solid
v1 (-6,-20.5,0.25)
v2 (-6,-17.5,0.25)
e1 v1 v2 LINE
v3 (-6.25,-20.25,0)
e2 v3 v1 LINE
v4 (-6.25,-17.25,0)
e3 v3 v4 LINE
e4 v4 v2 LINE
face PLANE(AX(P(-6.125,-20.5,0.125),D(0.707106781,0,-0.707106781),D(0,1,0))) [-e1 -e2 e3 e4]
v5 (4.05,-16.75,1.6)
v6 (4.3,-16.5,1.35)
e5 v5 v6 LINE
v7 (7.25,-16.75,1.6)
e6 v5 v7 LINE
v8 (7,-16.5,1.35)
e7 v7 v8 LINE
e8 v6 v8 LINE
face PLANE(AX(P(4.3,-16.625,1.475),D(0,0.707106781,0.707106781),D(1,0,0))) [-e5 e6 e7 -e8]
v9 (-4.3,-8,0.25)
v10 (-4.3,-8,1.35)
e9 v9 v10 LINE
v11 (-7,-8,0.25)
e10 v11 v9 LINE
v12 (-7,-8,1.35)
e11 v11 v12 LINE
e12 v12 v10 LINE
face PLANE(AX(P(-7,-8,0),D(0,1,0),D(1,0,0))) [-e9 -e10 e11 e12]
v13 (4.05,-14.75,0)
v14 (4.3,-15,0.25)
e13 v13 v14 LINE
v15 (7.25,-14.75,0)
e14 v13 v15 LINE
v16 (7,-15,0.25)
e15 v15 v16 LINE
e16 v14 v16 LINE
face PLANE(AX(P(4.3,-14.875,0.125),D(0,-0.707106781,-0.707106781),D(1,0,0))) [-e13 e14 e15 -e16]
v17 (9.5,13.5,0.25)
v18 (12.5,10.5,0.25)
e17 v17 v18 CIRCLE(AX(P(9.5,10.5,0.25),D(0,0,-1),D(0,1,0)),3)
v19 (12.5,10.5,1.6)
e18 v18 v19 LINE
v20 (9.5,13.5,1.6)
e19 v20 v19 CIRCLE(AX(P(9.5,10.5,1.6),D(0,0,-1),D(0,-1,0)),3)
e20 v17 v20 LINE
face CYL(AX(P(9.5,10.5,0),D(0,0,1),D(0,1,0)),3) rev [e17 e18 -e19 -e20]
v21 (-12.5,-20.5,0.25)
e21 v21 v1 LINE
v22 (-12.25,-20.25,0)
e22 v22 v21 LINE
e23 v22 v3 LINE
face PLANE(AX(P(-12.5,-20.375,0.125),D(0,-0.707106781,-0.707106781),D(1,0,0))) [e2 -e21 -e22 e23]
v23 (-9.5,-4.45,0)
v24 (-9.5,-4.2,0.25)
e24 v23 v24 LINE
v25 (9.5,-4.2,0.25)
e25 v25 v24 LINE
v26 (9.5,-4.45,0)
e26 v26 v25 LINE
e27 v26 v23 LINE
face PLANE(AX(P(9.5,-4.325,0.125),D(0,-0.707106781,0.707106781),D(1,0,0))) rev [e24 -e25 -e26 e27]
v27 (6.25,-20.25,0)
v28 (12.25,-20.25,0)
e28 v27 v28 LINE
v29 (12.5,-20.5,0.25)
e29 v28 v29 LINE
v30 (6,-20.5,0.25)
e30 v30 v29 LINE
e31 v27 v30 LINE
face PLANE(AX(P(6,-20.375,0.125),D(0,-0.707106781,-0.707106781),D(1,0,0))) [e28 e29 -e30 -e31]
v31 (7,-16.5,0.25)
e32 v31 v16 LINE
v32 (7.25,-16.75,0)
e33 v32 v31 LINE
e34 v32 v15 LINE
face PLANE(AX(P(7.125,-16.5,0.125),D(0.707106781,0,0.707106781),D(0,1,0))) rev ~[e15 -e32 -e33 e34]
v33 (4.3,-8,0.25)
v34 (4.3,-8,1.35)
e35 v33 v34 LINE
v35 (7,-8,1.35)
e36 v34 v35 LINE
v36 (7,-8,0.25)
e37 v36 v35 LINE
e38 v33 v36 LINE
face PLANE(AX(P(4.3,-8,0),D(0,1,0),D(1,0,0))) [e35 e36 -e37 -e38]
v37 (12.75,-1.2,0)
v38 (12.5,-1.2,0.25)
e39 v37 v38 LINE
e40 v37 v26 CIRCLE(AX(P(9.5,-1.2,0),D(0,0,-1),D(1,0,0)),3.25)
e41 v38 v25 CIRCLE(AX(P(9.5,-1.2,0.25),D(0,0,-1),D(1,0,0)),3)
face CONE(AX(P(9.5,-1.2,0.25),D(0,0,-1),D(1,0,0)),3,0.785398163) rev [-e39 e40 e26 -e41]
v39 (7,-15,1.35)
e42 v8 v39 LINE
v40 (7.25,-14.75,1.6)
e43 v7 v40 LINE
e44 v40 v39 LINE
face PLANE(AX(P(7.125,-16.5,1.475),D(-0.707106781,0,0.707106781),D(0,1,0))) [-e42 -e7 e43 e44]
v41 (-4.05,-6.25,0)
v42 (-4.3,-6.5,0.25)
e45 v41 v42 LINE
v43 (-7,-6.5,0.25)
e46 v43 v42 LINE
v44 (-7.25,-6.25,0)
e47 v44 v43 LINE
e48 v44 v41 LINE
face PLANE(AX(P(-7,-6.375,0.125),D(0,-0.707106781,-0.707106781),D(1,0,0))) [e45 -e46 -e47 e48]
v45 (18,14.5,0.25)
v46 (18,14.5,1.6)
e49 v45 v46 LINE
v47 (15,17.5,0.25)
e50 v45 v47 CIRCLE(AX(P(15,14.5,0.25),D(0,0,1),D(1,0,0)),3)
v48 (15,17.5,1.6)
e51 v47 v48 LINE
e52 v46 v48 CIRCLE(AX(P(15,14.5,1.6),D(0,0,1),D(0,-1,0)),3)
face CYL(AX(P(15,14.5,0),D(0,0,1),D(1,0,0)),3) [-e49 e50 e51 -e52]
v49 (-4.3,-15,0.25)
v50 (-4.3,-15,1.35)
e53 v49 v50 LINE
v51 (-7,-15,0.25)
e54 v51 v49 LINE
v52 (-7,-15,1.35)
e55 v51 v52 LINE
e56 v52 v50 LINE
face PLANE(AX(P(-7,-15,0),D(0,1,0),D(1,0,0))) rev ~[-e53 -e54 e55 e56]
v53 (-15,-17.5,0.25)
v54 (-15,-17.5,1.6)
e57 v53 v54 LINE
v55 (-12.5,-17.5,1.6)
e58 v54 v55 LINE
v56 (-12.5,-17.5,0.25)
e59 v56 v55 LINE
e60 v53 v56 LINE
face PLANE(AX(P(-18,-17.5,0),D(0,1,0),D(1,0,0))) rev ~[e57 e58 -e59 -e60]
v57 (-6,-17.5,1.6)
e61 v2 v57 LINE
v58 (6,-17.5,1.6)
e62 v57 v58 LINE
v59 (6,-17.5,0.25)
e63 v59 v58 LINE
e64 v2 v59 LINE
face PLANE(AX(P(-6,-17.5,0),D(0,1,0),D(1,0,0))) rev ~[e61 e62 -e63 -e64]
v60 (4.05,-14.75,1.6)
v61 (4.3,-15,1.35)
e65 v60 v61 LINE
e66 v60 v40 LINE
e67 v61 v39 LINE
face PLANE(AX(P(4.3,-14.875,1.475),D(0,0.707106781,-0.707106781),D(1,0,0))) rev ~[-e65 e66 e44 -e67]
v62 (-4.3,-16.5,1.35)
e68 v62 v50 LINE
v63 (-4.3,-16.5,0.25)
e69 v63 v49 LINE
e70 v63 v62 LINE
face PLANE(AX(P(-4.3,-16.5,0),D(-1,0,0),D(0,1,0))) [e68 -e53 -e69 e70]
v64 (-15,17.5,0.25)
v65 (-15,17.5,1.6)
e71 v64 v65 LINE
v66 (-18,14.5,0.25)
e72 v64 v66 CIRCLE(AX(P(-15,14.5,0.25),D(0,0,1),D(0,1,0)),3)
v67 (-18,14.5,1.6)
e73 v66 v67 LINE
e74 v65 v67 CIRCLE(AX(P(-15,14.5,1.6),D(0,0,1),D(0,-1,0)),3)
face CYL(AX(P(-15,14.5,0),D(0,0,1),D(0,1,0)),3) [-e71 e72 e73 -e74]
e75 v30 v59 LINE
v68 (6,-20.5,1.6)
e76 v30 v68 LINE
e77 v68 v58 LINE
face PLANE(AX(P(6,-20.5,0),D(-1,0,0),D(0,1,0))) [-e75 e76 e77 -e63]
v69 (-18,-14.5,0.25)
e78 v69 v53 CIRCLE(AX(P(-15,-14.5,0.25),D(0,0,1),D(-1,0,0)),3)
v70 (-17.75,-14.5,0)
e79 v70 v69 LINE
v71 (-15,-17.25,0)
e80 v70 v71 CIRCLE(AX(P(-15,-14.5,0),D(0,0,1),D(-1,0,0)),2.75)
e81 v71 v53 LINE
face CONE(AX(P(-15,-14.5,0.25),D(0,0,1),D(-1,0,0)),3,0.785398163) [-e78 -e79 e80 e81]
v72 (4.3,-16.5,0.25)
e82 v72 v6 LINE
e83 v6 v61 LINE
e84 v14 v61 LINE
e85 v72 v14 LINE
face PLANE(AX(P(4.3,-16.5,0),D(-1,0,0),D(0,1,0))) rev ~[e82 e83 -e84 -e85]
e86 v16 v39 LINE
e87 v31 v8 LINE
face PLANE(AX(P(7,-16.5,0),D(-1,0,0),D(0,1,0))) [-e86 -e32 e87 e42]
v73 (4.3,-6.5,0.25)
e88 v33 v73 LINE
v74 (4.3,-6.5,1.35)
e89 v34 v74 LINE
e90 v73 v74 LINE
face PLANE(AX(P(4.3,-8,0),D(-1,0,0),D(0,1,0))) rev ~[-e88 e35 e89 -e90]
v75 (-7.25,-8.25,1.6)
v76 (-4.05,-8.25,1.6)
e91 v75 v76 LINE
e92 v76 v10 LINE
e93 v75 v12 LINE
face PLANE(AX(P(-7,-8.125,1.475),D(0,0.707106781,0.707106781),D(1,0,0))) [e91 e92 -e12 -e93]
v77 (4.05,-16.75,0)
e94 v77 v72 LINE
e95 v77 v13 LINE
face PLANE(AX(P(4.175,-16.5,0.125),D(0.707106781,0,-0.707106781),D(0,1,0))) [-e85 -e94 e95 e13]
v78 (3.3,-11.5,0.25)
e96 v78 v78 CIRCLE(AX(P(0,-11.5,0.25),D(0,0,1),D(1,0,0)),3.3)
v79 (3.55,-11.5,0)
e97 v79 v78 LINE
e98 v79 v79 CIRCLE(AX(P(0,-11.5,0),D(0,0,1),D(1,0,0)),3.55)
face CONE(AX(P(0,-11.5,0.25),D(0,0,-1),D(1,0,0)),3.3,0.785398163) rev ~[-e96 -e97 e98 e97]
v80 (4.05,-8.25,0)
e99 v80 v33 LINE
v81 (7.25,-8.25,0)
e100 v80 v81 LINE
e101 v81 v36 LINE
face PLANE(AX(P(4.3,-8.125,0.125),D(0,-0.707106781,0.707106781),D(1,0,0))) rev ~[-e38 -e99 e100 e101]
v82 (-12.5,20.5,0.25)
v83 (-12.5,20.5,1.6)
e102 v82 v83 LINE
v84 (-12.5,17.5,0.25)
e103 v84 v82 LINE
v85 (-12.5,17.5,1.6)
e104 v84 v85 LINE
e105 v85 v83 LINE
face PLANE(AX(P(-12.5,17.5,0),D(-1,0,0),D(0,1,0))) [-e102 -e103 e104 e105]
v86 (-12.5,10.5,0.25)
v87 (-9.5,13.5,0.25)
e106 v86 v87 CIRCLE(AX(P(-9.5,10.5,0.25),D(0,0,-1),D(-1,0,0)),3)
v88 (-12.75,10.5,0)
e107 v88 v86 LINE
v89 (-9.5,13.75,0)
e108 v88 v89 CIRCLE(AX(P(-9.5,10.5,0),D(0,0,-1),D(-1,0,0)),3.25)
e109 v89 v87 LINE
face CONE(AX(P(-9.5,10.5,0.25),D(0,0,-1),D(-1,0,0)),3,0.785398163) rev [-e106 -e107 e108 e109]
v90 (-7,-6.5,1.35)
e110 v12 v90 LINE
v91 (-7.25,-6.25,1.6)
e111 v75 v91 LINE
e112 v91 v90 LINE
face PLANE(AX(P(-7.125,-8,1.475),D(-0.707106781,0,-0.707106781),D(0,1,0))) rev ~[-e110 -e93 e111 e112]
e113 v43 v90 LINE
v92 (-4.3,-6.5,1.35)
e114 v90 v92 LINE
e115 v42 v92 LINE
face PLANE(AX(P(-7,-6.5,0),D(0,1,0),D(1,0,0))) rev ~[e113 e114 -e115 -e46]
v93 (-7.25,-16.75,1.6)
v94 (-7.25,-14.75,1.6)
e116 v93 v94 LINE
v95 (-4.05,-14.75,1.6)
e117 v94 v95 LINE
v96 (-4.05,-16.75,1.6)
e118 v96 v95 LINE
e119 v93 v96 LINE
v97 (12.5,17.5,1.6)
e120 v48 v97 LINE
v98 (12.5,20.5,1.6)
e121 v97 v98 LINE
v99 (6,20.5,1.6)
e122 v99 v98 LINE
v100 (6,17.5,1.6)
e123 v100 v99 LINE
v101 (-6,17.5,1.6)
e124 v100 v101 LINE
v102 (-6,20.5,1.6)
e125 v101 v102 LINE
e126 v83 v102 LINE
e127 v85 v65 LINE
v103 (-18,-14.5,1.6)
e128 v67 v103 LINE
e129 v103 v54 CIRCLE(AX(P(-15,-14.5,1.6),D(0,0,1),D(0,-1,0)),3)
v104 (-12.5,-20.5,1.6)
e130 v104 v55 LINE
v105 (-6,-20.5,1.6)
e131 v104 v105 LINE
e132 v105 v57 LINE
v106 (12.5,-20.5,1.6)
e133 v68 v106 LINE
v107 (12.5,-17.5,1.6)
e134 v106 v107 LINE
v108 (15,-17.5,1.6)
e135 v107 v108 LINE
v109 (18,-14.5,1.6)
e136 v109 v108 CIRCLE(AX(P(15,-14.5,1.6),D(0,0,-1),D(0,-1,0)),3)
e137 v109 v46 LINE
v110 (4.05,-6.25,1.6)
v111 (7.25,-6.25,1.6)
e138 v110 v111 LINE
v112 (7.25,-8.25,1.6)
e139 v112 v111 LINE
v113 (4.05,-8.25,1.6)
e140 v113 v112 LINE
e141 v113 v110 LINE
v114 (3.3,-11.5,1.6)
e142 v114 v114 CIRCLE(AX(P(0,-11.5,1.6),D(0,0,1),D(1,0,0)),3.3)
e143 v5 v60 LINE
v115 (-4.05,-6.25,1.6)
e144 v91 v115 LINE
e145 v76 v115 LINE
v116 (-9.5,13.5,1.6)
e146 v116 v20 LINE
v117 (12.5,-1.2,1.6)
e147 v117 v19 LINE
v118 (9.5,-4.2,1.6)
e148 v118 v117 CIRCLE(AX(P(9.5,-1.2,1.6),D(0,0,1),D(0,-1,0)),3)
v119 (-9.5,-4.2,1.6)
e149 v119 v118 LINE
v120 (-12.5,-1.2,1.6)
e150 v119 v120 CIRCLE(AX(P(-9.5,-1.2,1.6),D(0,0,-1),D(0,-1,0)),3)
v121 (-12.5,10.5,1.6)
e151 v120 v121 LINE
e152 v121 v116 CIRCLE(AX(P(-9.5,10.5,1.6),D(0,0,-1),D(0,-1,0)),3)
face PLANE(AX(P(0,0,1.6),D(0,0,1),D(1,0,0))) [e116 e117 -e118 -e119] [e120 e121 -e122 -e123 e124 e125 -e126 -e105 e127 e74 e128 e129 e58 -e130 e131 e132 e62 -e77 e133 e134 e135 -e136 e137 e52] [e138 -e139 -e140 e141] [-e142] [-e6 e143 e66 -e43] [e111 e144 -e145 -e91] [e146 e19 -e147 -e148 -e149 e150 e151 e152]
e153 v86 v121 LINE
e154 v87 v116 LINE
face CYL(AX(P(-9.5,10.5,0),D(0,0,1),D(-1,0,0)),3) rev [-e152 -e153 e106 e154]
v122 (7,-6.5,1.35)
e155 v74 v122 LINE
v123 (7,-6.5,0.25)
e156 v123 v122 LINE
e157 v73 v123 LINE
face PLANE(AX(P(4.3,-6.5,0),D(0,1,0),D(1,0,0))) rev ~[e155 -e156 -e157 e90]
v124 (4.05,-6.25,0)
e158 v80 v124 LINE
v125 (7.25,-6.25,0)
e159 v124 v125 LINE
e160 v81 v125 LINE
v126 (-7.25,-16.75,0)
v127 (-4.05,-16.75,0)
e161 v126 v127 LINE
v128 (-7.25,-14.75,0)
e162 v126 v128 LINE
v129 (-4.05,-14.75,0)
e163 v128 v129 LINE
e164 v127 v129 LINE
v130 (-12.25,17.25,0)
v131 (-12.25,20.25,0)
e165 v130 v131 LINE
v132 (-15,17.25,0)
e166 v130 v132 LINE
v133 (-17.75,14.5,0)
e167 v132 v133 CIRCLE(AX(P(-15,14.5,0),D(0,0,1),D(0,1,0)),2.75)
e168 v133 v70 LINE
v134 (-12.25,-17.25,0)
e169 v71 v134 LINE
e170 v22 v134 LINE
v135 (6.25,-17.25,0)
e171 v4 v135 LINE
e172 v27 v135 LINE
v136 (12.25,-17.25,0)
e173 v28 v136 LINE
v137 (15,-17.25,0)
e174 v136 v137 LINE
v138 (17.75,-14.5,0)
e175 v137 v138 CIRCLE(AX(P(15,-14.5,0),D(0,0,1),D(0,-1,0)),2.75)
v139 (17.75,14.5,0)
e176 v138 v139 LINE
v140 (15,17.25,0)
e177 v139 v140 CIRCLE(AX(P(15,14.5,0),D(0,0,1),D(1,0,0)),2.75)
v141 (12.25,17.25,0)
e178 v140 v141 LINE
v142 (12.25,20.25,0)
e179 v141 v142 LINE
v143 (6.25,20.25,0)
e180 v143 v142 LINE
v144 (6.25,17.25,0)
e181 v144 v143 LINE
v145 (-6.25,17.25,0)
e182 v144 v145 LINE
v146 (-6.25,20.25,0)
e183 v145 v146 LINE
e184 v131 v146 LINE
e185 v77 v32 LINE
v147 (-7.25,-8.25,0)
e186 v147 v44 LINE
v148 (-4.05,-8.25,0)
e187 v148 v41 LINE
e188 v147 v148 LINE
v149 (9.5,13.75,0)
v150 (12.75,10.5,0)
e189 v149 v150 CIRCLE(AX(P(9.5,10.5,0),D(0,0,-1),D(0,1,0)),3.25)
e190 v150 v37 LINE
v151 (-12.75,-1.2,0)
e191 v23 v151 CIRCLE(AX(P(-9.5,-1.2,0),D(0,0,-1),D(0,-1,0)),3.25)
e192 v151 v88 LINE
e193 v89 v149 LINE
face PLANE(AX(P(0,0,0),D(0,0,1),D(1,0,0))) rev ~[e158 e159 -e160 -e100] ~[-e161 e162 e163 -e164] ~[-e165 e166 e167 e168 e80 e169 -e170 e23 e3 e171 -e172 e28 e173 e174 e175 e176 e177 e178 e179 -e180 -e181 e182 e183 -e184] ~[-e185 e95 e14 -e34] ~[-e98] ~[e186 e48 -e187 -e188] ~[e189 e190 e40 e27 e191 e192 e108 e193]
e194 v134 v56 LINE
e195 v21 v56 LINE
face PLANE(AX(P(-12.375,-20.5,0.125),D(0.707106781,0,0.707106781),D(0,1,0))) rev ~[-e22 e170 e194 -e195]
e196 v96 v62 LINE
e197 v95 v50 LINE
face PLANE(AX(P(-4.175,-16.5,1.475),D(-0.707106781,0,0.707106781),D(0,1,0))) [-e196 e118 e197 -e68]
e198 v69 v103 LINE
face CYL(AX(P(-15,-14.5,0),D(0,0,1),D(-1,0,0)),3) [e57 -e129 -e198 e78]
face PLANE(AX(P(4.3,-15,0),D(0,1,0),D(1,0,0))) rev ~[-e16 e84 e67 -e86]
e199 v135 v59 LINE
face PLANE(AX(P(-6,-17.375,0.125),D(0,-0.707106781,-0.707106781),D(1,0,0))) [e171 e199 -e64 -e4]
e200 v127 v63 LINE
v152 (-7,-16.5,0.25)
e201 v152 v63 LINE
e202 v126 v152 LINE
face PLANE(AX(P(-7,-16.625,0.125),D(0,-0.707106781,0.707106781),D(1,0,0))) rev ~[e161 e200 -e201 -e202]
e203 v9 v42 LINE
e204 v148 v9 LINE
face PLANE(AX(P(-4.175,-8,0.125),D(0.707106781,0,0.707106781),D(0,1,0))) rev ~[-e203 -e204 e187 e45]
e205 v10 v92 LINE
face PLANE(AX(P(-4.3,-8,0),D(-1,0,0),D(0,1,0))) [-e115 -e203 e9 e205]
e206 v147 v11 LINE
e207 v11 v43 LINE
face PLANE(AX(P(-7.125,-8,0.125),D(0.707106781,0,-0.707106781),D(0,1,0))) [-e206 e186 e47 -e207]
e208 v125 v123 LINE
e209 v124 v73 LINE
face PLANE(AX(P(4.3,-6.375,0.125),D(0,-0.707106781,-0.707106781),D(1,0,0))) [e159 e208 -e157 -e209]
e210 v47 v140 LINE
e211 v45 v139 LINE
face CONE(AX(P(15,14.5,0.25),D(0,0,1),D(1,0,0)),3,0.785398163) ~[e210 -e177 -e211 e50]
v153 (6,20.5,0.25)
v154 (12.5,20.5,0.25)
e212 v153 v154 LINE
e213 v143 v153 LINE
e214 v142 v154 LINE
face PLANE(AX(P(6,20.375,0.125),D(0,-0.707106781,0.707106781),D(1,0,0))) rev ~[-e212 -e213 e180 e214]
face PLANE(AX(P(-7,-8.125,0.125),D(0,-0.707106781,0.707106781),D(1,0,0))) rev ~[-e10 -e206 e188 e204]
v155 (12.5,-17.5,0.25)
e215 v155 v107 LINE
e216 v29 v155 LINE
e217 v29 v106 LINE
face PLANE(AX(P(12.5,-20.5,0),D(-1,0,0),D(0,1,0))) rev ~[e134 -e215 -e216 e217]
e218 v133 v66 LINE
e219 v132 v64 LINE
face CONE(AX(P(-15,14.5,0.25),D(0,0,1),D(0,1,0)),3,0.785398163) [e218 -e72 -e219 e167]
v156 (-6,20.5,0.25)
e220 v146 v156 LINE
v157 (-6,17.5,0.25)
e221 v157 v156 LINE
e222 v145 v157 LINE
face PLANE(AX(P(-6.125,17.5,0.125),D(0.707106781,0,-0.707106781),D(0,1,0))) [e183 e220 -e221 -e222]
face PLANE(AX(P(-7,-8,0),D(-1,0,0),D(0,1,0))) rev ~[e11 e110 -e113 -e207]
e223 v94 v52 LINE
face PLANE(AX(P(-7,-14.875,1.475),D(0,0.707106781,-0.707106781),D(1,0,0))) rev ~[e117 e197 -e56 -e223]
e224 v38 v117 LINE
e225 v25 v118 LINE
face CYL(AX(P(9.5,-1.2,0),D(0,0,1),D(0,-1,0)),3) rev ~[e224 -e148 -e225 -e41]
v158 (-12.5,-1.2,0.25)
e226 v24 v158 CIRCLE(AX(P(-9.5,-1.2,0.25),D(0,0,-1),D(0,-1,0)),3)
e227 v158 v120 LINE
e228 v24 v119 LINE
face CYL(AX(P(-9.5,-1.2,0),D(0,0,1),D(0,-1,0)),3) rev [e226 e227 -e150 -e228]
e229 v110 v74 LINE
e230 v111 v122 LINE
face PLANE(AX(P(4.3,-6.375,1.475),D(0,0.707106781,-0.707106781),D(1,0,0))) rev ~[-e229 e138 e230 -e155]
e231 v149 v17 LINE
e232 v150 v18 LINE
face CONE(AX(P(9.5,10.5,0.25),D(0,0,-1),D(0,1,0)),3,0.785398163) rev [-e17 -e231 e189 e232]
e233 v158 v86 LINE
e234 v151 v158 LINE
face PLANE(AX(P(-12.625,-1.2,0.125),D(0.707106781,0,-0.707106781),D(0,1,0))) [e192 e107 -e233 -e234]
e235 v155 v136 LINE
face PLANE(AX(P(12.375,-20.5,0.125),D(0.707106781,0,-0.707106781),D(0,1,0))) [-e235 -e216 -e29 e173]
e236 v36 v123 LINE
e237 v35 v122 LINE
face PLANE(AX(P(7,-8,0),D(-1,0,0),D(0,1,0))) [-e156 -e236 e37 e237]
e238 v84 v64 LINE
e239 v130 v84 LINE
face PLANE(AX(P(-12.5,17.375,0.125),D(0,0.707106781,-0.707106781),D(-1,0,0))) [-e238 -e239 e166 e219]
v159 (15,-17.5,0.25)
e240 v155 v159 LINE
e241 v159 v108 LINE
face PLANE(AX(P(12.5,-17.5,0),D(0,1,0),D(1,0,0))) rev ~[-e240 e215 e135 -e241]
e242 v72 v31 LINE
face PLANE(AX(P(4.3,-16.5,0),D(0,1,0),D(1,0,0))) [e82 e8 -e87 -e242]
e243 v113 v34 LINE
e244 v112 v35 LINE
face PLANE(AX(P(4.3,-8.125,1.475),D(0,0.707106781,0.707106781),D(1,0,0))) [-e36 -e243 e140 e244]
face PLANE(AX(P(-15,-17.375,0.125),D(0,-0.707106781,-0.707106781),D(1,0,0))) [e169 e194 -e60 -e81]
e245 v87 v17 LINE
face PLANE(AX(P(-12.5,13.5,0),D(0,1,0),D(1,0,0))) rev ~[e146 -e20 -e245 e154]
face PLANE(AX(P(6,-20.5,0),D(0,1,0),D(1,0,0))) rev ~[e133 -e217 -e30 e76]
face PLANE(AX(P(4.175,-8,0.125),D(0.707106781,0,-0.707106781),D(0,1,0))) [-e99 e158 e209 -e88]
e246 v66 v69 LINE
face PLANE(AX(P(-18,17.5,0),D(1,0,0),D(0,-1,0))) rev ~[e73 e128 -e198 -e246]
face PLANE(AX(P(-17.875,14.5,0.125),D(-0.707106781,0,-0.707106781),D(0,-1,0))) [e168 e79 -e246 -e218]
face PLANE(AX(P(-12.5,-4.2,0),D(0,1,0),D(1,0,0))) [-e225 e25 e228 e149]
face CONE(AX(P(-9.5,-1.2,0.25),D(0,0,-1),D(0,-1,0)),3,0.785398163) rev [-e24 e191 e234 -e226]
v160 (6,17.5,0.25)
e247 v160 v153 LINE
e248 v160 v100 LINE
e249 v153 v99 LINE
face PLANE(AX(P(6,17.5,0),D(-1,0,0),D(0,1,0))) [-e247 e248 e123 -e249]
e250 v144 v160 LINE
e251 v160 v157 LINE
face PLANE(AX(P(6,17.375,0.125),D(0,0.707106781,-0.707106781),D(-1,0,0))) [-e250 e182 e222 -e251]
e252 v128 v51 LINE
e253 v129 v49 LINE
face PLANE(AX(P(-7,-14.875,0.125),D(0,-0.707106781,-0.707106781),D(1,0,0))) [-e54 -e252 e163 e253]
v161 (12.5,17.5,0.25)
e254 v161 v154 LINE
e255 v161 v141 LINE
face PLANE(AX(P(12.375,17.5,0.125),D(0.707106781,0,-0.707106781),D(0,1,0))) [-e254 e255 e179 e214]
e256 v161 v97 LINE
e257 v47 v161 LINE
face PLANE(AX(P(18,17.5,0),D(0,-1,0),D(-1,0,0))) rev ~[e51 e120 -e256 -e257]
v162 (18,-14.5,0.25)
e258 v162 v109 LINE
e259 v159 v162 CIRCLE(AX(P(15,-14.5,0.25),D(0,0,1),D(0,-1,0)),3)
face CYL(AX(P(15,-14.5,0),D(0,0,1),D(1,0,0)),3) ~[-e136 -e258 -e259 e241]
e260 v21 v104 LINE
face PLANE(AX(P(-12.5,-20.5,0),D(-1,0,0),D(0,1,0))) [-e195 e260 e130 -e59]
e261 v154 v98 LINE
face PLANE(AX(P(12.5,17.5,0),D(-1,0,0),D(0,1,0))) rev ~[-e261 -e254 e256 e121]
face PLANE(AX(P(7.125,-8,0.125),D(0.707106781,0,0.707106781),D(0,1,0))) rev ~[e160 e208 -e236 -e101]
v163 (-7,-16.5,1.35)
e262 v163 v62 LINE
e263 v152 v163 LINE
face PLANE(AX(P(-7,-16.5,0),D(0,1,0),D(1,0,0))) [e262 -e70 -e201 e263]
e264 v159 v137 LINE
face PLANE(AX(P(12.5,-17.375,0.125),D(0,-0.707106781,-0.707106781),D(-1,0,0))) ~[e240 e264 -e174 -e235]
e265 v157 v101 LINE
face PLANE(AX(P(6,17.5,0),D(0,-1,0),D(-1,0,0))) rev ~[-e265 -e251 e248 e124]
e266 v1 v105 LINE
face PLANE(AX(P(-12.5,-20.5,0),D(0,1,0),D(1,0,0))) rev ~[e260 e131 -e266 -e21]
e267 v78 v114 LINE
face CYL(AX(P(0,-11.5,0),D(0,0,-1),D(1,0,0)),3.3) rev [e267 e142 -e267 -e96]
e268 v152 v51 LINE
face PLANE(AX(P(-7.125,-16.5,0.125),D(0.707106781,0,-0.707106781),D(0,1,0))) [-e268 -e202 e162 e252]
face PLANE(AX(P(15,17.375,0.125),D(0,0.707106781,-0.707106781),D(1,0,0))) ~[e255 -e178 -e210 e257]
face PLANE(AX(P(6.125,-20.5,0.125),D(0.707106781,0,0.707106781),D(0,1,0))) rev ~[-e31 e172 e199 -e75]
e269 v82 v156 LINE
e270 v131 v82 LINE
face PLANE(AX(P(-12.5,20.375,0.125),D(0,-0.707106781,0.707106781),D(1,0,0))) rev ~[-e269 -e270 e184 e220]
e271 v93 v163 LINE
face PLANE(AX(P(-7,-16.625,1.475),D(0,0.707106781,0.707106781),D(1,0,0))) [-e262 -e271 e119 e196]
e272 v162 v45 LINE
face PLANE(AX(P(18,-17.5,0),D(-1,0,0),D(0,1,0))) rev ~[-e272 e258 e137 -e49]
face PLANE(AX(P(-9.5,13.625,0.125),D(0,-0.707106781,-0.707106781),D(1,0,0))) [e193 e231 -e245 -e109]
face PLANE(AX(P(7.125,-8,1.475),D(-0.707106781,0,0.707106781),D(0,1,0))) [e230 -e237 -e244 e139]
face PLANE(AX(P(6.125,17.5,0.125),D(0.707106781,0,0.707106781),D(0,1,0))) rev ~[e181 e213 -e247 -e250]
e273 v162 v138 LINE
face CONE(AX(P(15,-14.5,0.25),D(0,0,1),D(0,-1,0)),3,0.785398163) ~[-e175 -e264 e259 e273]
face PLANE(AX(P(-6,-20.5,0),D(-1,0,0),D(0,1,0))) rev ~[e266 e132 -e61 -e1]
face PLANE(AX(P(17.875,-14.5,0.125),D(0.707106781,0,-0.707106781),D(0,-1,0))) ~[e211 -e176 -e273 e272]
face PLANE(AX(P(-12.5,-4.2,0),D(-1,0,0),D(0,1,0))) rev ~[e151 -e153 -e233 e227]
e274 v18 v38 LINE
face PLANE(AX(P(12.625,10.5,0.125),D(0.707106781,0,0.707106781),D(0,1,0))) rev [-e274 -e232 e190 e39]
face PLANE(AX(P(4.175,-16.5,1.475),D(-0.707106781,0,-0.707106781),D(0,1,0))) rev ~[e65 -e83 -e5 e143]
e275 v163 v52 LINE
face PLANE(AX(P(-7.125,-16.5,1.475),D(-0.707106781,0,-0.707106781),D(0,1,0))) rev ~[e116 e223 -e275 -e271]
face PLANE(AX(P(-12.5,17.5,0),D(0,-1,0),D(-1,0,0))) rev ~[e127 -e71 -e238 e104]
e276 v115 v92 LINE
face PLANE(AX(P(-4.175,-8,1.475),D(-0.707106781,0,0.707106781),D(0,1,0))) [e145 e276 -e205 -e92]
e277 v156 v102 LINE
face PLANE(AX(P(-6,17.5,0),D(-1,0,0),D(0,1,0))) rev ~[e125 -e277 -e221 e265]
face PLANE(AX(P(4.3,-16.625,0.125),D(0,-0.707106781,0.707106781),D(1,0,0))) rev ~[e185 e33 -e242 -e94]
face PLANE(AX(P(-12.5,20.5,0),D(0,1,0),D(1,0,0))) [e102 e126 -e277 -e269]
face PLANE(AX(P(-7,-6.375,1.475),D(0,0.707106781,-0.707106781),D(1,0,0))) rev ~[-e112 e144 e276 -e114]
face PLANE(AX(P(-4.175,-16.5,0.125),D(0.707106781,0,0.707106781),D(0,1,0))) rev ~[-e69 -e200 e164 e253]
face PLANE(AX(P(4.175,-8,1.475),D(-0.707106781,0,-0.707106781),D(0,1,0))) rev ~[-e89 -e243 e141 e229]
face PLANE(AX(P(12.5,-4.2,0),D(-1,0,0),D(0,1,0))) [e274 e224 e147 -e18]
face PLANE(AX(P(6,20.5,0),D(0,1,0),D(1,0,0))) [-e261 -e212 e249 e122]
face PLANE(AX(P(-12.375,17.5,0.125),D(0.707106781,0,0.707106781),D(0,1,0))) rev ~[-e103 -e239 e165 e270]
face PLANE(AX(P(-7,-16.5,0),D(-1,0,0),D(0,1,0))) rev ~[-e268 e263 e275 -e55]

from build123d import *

# Parameters (mm, degrees)
F0_W     = 2.7
F0_H     = 1.5
F0_R     = 3.3
F0_W_2   = 25
F0_H_2   = 17.7
F0_W_3   = 6.5
F0_H_3   = 3
F1_DEPTH = 1.6
F2_R     = 3
F3_SIZE  = 0.25


with BuildPart() as f1:
    # F0 (on Top) → F1 (new body)
    with BuildSketch(Plane.XY):
        Polygon((18, -17.5), (18, 17.5), (12.5, 17.5), (6, 17.5), (-6, 17.5), (-12.5, 17.5), (-18, 17.5), (-18, -17.5), (-12.5, -17.5), (-6, -17.5), (6, -17.5), (12.5, -17.5), align=None)
        with Locations((-5.65, -15.75)):
            Rectangle(F0_W, F0_H, mode=Mode.SUBTRACT)
        with Locations((-5.65, -7.25)):
            Rectangle(F0_W, F0_H, mode=Mode.SUBTRACT)
        with Locations((5.65, -15.75)):
            Rectangle(F0_W, F0_H, mode=Mode.SUBTRACT)
        with Locations((0, -11.5)):
            Circle(F0_R, mode=Mode.SUBTRACT)
        with Locations((5.65, -7.25)):
            Rectangle(F0_W, F0_H, mode=Mode.SUBTRACT)
        with Locations((0, 4.65)):
            Rectangle(F0_W_2, F0_H_2, mode=Mode.SUBTRACT)
        with Locations((9.25, 19)):
            Rectangle(F0_W_3, F0_H_3)
        with Locations((9.25, -19)):
            Rectangle(F0_W_3, F0_H_3)
        with Locations((-9.25, 19)):
            Rectangle(F0_W_3, F0_H_3)
        with Locations((-9.25, -19)):
            Rectangle(F0_W_3, F0_H_3)
    extrude(amount=F1_DEPTH)

    # F2
    f2_edges = [f1.edges().sort_by_distance(p)[0] for p in [
        (-18, 17.5, 0.8),
        (-18, -17.5, 0.8),
        (18, -17.5, 0.8),
        (18, 17.5, 0.8),
        (-12.5, -4.2, 0.8),
        (-12.5, 13.5, 0.8),
        (12.5, 13.5, 0.8),
        (12.5, -4.2, 0.8),
    ]]
    fillet(f2_edges, radius=F2_R)

    # F3
    f3_edges = [f1.edges().sort_by_distance(p)[0] for p in [
        (18, 0, 0),
        (17.12132, -16.62132, 0),
        (17.12132, 16.62132, 0),
        (13.75, -17.5, 0),
        (13.75, 17.5, 0),
        (12.5, -19, 0),
        (12.5, 19, 0),
        (9.25, -20.5, 0),
        (9.25, 20.5, 0),
        (6, -19, 0),
        (6, 19, 0),
        (0, -17.5, 0),
        (0, 17.5, 0),
        (-6, -19, 0),
        (-6, 19, 0),
        (-9.25, -20.5, 0),
        (-9.25, 20.5, 0),
        (-12.5, -19, 0),
        (-12.5, 19, 0),
        (-13.75, -17.5, 0),
        (-13.75, 17.5, 0),
        (-17.12132, -16.62132, 0),
        (-17.12132, 16.62132, 0),
        (-18, 0, 0),
        (-7, -15.75, 0),
        (-5.65, -15, 0),
        (-4.3, -15.75, 0),
        (-5.65, -16.5, 0),
        (-4.3, -7.25, 0),
        (-5.65, -8, 0),
        (-7, -7.25, 0),
        (-5.65, -6.5, 0),
        (4.3, -15.75, 0),
        (5.65, -15, 0),
        (7, -15.75, 0),
        (5.65, -16.5, 0),
        (-3.3, -11.5, 0),
        (5.65, -8, 0),
        (4.3, -7.25, 0),
        (5.65, -6.5, 0),
        (7, -7.25, 0),
        (-12.5, 4.65, 0),
        (-11.62132, -3.32132, 0),
        (-11.62132, 12.62132, 0),
        (0, -4.2, 0),
        (0, 13.5, 0),
        (11.62132, -3.32132, 0),
        (11.62132, 12.62132, 0),
        (12.5, 4.65, 0),
        (-7, -7.25, 1.6),
        (-5.65, -6.5, 1.6),
        (-4.3, -7.25, 1.6),
        (-5.65, -8, 1.6),
        (-5.65, -15, 1.6),
        (-7, -15.75, 1.6),
        (-5.65, -16.5, 1.6),
        (-4.3, -15.75, 1.6),
        (4.3, -7.25, 1.6),
        (5.65, -6.5, 1.6),
        (7, -7.25, 1.6),
        (5.65, -8, 1.6),
        (5.65, -15, 1.6),
        (4.3, -15.75, 1.6),
        (5.65, -16.5, 1.6),
        (7, -15.75, 1.6),
    ]]
    chamfer(f3_edges, length=F3_SIZE)


solid = f1.part
